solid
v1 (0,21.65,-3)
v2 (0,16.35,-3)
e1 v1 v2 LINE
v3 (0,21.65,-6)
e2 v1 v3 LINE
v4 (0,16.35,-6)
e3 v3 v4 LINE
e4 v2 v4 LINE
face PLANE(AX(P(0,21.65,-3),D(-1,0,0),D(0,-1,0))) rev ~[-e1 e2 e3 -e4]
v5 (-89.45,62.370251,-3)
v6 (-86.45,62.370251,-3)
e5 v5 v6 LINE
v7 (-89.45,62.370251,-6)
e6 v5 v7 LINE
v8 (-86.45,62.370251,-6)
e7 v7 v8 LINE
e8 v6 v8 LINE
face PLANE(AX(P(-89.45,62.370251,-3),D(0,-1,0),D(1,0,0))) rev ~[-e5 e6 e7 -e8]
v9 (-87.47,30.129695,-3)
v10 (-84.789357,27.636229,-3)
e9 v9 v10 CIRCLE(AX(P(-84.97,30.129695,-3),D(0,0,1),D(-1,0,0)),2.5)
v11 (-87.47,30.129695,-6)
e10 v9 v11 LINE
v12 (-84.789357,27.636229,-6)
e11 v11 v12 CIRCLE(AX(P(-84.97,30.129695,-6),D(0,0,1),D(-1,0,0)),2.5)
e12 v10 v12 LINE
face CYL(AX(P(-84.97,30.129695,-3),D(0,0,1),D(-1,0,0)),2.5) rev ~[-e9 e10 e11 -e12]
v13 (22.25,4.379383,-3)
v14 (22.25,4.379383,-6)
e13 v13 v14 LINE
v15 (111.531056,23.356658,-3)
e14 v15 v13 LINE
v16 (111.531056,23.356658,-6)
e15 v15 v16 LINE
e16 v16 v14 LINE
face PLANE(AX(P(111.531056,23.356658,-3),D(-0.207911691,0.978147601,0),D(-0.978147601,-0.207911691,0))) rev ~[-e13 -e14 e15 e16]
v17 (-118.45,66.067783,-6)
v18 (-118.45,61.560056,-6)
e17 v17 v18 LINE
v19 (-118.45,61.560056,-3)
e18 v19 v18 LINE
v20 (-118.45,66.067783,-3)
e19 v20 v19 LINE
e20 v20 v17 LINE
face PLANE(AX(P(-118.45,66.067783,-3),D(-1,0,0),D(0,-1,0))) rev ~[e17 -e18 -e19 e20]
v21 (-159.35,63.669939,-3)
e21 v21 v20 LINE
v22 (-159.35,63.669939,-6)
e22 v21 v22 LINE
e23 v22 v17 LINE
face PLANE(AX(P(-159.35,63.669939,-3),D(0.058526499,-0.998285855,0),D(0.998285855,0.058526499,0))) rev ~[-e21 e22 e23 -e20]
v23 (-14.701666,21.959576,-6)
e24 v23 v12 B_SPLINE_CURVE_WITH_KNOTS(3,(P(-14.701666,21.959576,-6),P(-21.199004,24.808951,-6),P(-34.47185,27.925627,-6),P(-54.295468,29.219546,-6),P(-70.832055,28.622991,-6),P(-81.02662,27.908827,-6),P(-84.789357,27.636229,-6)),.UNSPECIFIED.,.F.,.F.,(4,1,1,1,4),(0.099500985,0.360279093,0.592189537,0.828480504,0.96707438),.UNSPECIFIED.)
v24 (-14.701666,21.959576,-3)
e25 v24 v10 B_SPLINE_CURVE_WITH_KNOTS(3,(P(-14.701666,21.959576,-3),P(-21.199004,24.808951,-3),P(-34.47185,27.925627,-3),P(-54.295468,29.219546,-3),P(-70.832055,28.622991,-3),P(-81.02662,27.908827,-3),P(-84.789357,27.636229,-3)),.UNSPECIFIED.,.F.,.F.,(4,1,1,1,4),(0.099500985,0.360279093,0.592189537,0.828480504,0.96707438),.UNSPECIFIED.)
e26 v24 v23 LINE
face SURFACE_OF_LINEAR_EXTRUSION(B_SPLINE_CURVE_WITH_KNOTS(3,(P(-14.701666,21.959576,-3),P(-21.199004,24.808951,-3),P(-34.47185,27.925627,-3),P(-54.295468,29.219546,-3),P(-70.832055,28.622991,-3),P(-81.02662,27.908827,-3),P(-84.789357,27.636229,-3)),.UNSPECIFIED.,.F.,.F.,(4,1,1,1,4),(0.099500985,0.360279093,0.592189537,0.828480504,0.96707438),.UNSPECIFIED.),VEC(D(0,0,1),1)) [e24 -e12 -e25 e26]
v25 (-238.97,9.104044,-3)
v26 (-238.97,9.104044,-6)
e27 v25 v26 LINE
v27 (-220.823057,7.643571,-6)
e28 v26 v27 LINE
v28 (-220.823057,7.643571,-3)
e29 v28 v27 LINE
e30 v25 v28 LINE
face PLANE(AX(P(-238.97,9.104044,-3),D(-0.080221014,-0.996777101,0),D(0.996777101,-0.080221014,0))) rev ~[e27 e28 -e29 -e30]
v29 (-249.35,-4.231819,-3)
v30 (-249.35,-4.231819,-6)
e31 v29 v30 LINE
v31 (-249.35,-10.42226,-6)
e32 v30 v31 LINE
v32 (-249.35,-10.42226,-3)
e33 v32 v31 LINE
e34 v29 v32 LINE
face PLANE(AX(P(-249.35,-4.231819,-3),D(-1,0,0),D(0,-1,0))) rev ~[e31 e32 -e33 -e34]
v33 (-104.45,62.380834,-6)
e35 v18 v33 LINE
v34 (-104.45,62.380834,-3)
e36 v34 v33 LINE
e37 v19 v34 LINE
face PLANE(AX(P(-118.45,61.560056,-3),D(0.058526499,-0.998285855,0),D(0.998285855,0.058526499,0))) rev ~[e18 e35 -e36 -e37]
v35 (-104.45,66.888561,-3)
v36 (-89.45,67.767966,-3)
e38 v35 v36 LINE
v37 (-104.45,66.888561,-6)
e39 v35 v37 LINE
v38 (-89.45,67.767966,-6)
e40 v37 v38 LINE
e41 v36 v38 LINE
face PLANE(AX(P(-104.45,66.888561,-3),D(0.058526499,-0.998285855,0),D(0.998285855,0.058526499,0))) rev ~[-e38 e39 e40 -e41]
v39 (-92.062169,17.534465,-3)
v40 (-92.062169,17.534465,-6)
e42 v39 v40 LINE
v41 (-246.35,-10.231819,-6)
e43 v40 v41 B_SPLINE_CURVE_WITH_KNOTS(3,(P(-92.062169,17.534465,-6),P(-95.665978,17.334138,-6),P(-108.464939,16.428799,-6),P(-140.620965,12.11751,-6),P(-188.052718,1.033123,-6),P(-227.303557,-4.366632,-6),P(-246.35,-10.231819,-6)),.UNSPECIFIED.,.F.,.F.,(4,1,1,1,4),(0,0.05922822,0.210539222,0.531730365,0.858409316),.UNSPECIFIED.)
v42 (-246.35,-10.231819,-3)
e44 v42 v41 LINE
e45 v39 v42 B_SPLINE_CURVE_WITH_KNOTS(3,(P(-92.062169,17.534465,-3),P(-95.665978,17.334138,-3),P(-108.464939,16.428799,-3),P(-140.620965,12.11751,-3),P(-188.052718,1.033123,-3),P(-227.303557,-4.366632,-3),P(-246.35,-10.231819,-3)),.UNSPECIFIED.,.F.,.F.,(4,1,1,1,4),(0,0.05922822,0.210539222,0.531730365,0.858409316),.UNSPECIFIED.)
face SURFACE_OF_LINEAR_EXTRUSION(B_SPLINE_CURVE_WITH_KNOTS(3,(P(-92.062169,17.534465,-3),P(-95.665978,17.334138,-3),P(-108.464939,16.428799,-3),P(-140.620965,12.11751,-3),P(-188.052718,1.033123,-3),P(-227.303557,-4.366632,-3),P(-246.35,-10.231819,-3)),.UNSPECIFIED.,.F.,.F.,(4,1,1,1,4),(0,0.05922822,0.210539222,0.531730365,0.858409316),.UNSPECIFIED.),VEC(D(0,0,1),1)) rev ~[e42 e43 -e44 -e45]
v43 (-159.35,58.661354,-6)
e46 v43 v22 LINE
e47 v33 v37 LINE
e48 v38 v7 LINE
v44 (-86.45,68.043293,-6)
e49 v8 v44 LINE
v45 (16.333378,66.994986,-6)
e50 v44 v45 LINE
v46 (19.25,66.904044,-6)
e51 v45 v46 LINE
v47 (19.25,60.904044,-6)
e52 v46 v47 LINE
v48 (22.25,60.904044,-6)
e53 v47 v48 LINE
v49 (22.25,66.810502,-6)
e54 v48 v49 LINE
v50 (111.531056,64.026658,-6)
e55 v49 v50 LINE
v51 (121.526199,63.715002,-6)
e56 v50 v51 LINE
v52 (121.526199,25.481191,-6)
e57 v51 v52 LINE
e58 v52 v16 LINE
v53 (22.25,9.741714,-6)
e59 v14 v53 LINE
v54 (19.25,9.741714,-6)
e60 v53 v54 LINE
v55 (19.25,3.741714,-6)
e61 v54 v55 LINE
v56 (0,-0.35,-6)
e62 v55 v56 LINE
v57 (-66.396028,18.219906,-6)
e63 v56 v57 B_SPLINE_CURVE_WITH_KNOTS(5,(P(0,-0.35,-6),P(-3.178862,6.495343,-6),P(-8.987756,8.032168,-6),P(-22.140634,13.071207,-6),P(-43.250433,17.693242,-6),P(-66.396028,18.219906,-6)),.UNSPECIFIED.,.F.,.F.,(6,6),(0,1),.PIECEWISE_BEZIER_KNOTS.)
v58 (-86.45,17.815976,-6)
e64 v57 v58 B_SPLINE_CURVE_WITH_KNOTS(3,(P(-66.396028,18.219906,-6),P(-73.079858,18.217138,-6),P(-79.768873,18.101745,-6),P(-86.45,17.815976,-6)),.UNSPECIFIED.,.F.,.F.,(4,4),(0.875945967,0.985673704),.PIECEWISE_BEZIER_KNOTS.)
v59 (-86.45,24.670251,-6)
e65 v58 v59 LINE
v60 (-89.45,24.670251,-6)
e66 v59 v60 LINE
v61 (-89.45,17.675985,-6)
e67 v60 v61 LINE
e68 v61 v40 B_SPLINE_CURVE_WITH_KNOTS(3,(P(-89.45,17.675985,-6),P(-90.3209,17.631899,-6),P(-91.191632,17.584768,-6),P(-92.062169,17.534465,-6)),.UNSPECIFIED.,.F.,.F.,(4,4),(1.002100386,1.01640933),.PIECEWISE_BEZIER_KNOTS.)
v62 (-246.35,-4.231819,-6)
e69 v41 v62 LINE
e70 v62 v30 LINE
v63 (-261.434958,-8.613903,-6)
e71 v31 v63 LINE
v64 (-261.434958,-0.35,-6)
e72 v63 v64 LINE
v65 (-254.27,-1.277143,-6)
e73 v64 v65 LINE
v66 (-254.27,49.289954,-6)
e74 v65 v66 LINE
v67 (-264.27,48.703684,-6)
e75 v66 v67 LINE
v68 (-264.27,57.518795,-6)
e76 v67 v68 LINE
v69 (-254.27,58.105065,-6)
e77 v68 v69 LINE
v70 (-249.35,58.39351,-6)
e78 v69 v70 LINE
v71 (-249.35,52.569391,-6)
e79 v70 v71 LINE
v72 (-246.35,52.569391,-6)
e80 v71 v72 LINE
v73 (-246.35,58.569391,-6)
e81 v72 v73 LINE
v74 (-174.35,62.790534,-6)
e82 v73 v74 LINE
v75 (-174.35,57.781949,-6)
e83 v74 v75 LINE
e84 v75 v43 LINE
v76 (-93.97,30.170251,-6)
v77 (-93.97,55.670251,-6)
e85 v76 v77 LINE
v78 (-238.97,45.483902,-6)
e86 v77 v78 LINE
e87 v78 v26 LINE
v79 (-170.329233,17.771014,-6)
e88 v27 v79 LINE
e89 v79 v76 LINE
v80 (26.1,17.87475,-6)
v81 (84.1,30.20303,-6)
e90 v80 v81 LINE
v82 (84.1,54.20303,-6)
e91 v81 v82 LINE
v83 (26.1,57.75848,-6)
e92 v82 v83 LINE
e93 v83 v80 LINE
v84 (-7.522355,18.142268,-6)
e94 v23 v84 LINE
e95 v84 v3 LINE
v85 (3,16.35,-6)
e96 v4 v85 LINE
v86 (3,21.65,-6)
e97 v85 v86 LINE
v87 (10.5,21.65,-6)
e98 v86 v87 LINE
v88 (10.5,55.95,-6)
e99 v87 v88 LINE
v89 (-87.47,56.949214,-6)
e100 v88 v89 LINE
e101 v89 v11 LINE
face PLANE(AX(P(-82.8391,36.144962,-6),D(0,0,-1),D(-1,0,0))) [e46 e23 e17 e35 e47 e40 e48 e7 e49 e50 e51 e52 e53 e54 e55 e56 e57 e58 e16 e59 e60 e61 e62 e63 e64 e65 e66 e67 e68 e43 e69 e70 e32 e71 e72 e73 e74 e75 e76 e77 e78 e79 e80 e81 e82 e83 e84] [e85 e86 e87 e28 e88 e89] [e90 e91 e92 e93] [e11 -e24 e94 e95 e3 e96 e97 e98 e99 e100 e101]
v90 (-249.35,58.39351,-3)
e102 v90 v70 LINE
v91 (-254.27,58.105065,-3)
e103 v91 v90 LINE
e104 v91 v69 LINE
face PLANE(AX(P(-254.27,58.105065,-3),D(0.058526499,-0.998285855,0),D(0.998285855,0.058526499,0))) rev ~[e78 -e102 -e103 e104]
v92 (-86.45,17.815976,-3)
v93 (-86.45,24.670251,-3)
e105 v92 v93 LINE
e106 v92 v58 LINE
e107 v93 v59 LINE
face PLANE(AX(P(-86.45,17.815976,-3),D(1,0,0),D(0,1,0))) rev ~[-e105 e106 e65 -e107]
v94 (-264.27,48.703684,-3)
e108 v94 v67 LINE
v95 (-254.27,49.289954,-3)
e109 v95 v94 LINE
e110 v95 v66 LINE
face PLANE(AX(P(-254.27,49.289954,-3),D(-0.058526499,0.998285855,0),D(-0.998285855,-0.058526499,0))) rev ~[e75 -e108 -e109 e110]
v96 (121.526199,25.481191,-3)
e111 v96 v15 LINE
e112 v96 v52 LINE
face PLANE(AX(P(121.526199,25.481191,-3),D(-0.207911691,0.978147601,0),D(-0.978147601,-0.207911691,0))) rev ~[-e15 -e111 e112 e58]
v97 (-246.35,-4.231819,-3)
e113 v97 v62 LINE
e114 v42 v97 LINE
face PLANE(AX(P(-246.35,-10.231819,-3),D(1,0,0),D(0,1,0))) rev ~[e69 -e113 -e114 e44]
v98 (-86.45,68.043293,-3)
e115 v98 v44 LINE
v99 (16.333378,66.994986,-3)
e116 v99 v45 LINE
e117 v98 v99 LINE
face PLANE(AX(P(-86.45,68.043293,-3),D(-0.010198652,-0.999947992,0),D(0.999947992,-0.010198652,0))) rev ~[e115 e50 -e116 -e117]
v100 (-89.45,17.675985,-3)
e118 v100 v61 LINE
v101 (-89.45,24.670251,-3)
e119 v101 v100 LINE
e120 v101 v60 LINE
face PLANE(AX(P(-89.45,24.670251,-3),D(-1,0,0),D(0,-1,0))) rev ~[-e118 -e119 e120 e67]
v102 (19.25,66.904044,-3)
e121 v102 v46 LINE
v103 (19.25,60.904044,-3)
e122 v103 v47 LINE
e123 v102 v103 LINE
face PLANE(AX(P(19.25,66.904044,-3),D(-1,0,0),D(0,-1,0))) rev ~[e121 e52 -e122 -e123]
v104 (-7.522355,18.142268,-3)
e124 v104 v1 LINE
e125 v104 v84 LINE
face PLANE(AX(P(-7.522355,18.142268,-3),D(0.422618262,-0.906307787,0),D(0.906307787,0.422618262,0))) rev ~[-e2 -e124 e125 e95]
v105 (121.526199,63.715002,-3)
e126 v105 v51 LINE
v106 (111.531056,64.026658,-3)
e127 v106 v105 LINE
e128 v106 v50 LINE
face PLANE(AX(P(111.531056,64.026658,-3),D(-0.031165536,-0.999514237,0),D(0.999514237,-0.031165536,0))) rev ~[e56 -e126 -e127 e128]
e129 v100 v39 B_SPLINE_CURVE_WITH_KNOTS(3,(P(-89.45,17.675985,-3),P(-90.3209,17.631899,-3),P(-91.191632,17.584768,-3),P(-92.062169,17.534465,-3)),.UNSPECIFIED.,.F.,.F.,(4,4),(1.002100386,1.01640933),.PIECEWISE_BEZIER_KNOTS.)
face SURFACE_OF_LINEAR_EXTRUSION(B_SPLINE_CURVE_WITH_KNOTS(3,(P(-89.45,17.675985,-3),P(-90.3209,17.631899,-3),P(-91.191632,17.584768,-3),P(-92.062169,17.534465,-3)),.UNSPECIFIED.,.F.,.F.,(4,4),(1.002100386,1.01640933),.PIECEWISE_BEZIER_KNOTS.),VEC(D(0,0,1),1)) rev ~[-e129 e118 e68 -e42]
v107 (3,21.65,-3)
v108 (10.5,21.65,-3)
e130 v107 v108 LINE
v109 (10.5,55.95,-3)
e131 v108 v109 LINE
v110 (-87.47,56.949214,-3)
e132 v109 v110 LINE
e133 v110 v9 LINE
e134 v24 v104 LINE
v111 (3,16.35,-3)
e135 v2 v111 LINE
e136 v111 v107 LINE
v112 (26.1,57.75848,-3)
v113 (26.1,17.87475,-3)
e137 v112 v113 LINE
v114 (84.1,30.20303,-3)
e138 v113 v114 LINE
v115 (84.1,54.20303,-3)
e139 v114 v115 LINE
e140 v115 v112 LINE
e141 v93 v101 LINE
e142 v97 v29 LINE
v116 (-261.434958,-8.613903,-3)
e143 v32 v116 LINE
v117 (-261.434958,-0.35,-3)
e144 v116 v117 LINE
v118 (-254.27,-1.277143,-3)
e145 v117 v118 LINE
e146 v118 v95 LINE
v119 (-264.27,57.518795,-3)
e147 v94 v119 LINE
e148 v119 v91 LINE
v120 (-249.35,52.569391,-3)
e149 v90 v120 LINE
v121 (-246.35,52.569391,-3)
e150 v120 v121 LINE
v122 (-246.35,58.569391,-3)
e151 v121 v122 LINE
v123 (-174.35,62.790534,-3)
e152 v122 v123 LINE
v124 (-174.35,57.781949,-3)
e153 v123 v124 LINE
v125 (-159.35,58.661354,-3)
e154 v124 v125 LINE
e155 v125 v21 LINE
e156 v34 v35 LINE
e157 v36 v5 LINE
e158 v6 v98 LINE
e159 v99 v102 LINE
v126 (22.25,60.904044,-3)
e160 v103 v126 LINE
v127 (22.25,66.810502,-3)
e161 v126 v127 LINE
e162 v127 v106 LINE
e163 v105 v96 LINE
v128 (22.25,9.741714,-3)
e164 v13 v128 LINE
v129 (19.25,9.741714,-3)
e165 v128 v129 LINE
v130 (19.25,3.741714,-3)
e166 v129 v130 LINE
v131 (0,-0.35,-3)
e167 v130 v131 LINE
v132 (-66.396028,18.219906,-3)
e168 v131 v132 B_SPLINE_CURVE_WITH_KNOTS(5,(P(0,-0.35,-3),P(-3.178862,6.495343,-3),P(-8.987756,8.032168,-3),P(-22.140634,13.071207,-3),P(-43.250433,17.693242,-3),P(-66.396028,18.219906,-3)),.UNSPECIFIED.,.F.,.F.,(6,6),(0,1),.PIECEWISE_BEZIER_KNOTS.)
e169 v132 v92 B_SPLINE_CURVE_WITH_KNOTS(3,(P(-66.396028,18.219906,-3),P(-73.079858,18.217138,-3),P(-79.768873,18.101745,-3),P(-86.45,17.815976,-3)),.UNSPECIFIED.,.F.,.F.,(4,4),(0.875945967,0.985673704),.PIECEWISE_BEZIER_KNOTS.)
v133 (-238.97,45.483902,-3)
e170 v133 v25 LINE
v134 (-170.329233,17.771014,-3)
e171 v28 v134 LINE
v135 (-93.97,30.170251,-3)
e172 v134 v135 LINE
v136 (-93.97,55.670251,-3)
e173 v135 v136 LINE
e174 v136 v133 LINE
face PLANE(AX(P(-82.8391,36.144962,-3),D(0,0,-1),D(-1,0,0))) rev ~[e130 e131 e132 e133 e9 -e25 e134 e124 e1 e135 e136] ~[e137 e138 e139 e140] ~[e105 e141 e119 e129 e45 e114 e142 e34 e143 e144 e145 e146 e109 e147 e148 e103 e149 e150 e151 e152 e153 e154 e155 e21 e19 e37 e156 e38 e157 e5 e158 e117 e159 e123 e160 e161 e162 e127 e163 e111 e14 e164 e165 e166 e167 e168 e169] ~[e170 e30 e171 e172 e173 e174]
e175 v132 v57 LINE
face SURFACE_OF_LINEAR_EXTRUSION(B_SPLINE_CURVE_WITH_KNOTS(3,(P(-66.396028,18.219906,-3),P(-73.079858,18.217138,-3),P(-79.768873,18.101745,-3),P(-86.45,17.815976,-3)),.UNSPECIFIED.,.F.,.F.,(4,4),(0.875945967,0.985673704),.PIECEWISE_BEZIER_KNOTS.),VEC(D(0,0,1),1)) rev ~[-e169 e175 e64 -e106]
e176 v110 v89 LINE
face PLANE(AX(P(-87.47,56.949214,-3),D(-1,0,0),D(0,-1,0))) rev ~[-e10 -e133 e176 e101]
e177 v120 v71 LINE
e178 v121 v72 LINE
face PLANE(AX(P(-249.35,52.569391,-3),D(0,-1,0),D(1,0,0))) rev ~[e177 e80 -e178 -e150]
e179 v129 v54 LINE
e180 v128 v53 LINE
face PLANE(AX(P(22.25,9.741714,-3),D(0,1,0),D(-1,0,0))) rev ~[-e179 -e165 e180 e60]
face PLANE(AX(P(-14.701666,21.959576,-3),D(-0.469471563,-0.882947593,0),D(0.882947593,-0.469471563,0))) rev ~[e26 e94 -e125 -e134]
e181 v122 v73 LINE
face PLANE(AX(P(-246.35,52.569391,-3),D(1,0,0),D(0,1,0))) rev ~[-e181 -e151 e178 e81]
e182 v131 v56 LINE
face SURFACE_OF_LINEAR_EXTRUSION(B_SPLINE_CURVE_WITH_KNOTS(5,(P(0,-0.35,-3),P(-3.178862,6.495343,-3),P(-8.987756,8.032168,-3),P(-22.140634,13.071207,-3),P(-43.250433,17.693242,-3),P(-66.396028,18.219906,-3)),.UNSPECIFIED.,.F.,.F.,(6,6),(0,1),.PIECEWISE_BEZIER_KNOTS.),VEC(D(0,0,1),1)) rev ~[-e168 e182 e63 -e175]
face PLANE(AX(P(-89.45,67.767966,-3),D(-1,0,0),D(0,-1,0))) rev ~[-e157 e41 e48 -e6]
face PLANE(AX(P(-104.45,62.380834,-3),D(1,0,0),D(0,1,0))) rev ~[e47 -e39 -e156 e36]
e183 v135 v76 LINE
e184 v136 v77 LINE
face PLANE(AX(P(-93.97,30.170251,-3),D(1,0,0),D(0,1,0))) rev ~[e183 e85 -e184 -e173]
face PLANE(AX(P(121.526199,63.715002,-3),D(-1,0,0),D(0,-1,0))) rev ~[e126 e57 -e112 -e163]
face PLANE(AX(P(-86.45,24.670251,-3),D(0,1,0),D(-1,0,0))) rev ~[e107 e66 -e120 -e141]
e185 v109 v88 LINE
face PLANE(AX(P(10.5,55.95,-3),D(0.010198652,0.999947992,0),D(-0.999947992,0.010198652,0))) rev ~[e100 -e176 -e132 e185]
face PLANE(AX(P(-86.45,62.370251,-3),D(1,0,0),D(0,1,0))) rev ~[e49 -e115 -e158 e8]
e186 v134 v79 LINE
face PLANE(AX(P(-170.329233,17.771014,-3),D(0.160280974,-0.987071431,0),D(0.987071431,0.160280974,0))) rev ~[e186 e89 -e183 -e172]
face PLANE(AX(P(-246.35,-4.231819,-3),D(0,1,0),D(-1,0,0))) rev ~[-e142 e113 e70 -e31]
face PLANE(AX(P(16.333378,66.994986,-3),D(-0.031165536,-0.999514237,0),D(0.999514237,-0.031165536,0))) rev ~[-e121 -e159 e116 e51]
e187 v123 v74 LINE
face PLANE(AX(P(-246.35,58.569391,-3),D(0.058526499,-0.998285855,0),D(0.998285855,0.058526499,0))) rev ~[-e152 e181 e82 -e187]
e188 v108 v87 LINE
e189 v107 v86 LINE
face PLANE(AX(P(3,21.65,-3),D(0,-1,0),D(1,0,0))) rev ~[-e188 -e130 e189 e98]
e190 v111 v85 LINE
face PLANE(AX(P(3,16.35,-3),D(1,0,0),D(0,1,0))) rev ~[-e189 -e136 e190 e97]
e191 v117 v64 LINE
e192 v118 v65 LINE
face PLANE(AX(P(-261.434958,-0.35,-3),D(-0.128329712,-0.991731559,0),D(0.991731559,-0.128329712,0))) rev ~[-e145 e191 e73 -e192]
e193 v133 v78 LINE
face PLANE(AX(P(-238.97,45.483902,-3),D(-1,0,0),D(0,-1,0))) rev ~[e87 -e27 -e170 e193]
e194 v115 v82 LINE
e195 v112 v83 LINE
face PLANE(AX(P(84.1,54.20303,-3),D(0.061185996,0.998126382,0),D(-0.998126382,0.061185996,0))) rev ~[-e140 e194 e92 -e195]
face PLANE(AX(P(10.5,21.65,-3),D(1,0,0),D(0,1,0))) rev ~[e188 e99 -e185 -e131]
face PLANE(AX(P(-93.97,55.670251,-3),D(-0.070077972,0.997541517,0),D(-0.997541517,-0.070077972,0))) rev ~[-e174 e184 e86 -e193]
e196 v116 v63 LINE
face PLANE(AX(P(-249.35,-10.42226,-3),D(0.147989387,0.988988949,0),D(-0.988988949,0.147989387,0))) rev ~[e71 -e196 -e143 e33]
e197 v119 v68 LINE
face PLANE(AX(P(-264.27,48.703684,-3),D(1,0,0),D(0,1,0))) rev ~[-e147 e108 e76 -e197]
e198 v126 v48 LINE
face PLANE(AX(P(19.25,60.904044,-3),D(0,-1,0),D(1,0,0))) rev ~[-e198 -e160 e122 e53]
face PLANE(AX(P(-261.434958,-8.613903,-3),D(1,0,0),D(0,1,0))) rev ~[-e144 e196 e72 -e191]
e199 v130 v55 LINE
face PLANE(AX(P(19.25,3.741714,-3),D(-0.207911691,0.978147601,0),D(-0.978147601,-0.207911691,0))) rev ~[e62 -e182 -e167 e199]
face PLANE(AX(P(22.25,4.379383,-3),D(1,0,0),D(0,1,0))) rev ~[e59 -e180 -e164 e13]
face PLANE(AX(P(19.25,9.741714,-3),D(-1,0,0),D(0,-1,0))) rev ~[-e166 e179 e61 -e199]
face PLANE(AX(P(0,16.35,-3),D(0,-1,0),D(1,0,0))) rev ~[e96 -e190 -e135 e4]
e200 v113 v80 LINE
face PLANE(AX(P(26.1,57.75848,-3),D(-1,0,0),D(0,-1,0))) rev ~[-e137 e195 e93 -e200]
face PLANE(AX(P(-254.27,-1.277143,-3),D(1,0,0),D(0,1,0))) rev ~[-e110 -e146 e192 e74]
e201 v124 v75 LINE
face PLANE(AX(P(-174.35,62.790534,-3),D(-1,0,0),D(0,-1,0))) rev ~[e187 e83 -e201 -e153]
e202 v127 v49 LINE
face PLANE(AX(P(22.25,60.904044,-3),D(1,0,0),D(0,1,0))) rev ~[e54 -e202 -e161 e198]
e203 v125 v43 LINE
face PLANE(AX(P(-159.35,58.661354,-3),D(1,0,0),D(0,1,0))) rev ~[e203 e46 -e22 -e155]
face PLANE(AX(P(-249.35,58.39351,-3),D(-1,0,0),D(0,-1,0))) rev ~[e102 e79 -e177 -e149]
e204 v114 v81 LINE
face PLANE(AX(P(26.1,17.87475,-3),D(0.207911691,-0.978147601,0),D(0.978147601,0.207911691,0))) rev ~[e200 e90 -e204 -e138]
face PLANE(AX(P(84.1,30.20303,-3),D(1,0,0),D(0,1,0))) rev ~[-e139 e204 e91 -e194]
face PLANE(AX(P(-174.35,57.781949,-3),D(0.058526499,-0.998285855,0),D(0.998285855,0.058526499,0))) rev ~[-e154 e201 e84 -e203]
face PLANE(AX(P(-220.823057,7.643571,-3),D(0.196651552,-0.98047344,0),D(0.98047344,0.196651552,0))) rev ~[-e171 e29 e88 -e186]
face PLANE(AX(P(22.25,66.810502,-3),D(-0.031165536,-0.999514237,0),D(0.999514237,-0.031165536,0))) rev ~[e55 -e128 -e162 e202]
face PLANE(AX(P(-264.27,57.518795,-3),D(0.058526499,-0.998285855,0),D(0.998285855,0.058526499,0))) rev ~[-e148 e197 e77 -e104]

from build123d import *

# Parameters (mm, degrees)
BOSS_EXTRUDE2_DEPTH = 3


with BuildPart() as part:
    # Sketch6 → Boss-Extrude2 (new body)
    with BuildSketch(Plane(origin=(0, 0, -3), x_dir=(-1, 0, 0), z_dir=(0, 0, -1))):
        with BuildLine():
            Line((-19.25, 3.741713812), (0, -0.35))
            add(Edge.make_bspline(
                [(0, -0.35), (3.178862469, 6.495343287), (8.987756305, 8.032168144), (22.140633739, 13.071207305), (43.250433247, 17.69324185), (66.39602757, 18.219905629)],
                knots=[0, 0, 0, 0, 0, 0, 1, 1, 1, 1, 1, 1], degree=5))
            add(Edge.make_bspline(
                [(66.39602757, 18.219905629), (73.079858249, 18.217137873), (79.768873399, 18.101745103), (86.45, 17.815976098)],
                knots=[0.875945967, 0.875945967, 0.875945967, 0.875945967, 0.985673704, 0.985673704, 0.985673704, 0.985673704], degree=3))
            Line((86.45, 17.815976098), (86.45, 24.670250599))
            Line((86.45, 24.670250599), (89.45, 24.670250599))
            Line((89.45, 24.670250599), (89.45, 17.675984992))
            add(Edge.make_bspline(
                [(89.45, 17.675984992), (90.320899947, 17.631898595), (91.191632468, 17.584767892), (92.062168571, 17.534464817)],
                knots=[1.002100386, 1.002100386, 1.002100386, 1.002100386, 1.01640933, 1.01640933, 1.01640933, 1.01640933], degree=3))
            add(Edge.make_bspline(
                [(92.062168571, 17.534464817), (95.665977641, 17.334138157), (108.464938821, 16.428798519), (140.620964858, 12.117510077), (188.052718325, 1.033122833), (227.303556849, -4.3666315), (246.35, -10.231818509)],
                knots=[0, 0, 0, 0, 0.05922822, 0.210539222, 0.531730365, 0.858409316, 0.858409316, 0.858409316, 0.858409316], degree=3))
            Line((246.35, -10.231818509), (246.35, -4.231818509))
            Line((246.35, -4.231818509), (249.35, -4.231818509))
            Line((249.35, -4.231818509), (249.35, -10.422260297))
            Line((249.35, -10.422260297), (261.434958207, -8.613902826))
            Line((261.434958207, -8.613902826), (261.434958207, -0.35))
            Line((261.434958207, -0.35), (254.27, -1.277143049))
            Line((254.27, -1.277143049), (254.27, 49.289954404))
            Line((254.27, 49.289954404), (264.27, 48.703684462))
            Line((264.27, 48.703684462), (264.27, 57.518794836))
            Line((264.27, 57.518794836), (254.27, 58.105064779))
            Line((254.27, 58.105064779), (249.35, 58.39350959))
            Line((249.35, 58.39350959), (249.35, 52.569390573))
            Line((249.35, 52.569390573), (246.35, 52.569390573))
            Line((246.35, 52.569390573), (246.35, 58.569390573))
            Line((246.35, 58.569390573), (174.35, 62.790534157))
            Line((174.35, 62.790534157), (174.35, 57.781948717))
            Line((174.35, 57.781948717), (159.35, 58.66135363))
            Line((159.35, 58.66135363), (159.35, 63.66993907))
            Line((159.35, 63.66993907), (118.45, 66.067783134))
            Line((118.45, 66.067783134), (118.45, 61.560056238))
            Line((118.45, 61.560056238), (104.45, 62.380834157))
            Line((104.45, 62.380834157), (104.45, 66.888561053))
            Line((104.45, 66.888561053), (89.45, 67.767965967))
            Line((89.45, 67.767965967), (89.45, 62.370250599))
            Line((89.45, 62.370250599), (86.45, 62.370250599))
            Line((86.45, 62.370250599), (86.45, 68.043292799))
            Line((86.45, 68.043292799), (-16.333378442, 66.994986377))
            Line((-16.333378442, 66.994986377), (-19.25, 66.904044127))
            Line((-19.25, 66.904044127), (-19.25, 60.904044127))
            Line((-19.25, 60.904044127), (-22.25, 60.904044127))
            Line((-22.25, 60.904044127), (-22.25, 66.810502081))
            Line((-22.25, 66.810502081), (-111.531056313, 64.026657849))
            Line((-111.531056313, 64.026657849), (-121.52619868, 63.715002493))
            Line((-121.52619868, 63.715002493), (-121.52619868, 25.481190944))
            Line((-121.52619868, 25.481190944), (-111.531056313, 23.356657849))
            Line((-111.531056313, 23.356657849), (-22.25, 4.379383497))
            Line((-22.25, 4.379383497), (-22.25, 9.741713812))
            Line((-22.25, 9.741713812), (-19.25, 9.741713812))
            Line((-19.25, 9.741713812), (-19.25, 3.741713812))
        make_face()
        Polygon((-84.1, 54.203030213), (-26.1, 57.75847956), (-26.1, 17.874749636), (-84.1, 30.203030213), align=None, mode=Mode.SUBTRACT)
        with BuildLine():
            Line((-10.5, 21.65), (-10.5, 55.95))
            Line((-10.5, 55.95), (87.47, 56.949213898))
            Line((87.47, 56.949213898), (87.47, 30.129694509))
            ThreePointArc((87.47, 30.129694509), (86.67270256, 28.299174366), (84.789356805, 27.636229443))
            add(Edge.make_bspline(
                [(14.701665666, 21.959575817), (21.19900444, 24.808951329), (34.471850374, 27.925627057), (54.295468051, 29.219545771), (70.832055402, 28.62299092), (81.026620283, 27.908827105), (84.789356805, 27.636229443)],
                knots=[0.099500985, 0.099500985, 0.099500985, 0.099500985, 0.360279093, 0.592189537, 0.828480504, 0.96707438, 0.96707438, 0.96707438, 0.96707438], degree=3))
            Line((14.701665666, 21.959575817), (7.522354632, 18.142268428))
            Line((7.522354632, 18.142268428), (0, 21.65))
            Line((0, 21.65), (0, 16.35))
            Line((0, 16.35), (-3, 16.35))
            Line((-3, 16.35), (-3, 21.65))
            Line((-3, 21.65), (-10.5, 21.65))
        make_face(mode=Mode.SUBTRACT)
        Polygon((93.97, 30.170250599), (93.97, 55.670250599), (238.97, 45.483901662), (238.97, 9.104044127), (220.823057098, 7.643571), (170.32923345, 17.7710139), align=None, mode=Mode.SUBTRACT)
    extrude(amount=BOSS_EXTRUDE2_DEPTH)


solid = part.part
